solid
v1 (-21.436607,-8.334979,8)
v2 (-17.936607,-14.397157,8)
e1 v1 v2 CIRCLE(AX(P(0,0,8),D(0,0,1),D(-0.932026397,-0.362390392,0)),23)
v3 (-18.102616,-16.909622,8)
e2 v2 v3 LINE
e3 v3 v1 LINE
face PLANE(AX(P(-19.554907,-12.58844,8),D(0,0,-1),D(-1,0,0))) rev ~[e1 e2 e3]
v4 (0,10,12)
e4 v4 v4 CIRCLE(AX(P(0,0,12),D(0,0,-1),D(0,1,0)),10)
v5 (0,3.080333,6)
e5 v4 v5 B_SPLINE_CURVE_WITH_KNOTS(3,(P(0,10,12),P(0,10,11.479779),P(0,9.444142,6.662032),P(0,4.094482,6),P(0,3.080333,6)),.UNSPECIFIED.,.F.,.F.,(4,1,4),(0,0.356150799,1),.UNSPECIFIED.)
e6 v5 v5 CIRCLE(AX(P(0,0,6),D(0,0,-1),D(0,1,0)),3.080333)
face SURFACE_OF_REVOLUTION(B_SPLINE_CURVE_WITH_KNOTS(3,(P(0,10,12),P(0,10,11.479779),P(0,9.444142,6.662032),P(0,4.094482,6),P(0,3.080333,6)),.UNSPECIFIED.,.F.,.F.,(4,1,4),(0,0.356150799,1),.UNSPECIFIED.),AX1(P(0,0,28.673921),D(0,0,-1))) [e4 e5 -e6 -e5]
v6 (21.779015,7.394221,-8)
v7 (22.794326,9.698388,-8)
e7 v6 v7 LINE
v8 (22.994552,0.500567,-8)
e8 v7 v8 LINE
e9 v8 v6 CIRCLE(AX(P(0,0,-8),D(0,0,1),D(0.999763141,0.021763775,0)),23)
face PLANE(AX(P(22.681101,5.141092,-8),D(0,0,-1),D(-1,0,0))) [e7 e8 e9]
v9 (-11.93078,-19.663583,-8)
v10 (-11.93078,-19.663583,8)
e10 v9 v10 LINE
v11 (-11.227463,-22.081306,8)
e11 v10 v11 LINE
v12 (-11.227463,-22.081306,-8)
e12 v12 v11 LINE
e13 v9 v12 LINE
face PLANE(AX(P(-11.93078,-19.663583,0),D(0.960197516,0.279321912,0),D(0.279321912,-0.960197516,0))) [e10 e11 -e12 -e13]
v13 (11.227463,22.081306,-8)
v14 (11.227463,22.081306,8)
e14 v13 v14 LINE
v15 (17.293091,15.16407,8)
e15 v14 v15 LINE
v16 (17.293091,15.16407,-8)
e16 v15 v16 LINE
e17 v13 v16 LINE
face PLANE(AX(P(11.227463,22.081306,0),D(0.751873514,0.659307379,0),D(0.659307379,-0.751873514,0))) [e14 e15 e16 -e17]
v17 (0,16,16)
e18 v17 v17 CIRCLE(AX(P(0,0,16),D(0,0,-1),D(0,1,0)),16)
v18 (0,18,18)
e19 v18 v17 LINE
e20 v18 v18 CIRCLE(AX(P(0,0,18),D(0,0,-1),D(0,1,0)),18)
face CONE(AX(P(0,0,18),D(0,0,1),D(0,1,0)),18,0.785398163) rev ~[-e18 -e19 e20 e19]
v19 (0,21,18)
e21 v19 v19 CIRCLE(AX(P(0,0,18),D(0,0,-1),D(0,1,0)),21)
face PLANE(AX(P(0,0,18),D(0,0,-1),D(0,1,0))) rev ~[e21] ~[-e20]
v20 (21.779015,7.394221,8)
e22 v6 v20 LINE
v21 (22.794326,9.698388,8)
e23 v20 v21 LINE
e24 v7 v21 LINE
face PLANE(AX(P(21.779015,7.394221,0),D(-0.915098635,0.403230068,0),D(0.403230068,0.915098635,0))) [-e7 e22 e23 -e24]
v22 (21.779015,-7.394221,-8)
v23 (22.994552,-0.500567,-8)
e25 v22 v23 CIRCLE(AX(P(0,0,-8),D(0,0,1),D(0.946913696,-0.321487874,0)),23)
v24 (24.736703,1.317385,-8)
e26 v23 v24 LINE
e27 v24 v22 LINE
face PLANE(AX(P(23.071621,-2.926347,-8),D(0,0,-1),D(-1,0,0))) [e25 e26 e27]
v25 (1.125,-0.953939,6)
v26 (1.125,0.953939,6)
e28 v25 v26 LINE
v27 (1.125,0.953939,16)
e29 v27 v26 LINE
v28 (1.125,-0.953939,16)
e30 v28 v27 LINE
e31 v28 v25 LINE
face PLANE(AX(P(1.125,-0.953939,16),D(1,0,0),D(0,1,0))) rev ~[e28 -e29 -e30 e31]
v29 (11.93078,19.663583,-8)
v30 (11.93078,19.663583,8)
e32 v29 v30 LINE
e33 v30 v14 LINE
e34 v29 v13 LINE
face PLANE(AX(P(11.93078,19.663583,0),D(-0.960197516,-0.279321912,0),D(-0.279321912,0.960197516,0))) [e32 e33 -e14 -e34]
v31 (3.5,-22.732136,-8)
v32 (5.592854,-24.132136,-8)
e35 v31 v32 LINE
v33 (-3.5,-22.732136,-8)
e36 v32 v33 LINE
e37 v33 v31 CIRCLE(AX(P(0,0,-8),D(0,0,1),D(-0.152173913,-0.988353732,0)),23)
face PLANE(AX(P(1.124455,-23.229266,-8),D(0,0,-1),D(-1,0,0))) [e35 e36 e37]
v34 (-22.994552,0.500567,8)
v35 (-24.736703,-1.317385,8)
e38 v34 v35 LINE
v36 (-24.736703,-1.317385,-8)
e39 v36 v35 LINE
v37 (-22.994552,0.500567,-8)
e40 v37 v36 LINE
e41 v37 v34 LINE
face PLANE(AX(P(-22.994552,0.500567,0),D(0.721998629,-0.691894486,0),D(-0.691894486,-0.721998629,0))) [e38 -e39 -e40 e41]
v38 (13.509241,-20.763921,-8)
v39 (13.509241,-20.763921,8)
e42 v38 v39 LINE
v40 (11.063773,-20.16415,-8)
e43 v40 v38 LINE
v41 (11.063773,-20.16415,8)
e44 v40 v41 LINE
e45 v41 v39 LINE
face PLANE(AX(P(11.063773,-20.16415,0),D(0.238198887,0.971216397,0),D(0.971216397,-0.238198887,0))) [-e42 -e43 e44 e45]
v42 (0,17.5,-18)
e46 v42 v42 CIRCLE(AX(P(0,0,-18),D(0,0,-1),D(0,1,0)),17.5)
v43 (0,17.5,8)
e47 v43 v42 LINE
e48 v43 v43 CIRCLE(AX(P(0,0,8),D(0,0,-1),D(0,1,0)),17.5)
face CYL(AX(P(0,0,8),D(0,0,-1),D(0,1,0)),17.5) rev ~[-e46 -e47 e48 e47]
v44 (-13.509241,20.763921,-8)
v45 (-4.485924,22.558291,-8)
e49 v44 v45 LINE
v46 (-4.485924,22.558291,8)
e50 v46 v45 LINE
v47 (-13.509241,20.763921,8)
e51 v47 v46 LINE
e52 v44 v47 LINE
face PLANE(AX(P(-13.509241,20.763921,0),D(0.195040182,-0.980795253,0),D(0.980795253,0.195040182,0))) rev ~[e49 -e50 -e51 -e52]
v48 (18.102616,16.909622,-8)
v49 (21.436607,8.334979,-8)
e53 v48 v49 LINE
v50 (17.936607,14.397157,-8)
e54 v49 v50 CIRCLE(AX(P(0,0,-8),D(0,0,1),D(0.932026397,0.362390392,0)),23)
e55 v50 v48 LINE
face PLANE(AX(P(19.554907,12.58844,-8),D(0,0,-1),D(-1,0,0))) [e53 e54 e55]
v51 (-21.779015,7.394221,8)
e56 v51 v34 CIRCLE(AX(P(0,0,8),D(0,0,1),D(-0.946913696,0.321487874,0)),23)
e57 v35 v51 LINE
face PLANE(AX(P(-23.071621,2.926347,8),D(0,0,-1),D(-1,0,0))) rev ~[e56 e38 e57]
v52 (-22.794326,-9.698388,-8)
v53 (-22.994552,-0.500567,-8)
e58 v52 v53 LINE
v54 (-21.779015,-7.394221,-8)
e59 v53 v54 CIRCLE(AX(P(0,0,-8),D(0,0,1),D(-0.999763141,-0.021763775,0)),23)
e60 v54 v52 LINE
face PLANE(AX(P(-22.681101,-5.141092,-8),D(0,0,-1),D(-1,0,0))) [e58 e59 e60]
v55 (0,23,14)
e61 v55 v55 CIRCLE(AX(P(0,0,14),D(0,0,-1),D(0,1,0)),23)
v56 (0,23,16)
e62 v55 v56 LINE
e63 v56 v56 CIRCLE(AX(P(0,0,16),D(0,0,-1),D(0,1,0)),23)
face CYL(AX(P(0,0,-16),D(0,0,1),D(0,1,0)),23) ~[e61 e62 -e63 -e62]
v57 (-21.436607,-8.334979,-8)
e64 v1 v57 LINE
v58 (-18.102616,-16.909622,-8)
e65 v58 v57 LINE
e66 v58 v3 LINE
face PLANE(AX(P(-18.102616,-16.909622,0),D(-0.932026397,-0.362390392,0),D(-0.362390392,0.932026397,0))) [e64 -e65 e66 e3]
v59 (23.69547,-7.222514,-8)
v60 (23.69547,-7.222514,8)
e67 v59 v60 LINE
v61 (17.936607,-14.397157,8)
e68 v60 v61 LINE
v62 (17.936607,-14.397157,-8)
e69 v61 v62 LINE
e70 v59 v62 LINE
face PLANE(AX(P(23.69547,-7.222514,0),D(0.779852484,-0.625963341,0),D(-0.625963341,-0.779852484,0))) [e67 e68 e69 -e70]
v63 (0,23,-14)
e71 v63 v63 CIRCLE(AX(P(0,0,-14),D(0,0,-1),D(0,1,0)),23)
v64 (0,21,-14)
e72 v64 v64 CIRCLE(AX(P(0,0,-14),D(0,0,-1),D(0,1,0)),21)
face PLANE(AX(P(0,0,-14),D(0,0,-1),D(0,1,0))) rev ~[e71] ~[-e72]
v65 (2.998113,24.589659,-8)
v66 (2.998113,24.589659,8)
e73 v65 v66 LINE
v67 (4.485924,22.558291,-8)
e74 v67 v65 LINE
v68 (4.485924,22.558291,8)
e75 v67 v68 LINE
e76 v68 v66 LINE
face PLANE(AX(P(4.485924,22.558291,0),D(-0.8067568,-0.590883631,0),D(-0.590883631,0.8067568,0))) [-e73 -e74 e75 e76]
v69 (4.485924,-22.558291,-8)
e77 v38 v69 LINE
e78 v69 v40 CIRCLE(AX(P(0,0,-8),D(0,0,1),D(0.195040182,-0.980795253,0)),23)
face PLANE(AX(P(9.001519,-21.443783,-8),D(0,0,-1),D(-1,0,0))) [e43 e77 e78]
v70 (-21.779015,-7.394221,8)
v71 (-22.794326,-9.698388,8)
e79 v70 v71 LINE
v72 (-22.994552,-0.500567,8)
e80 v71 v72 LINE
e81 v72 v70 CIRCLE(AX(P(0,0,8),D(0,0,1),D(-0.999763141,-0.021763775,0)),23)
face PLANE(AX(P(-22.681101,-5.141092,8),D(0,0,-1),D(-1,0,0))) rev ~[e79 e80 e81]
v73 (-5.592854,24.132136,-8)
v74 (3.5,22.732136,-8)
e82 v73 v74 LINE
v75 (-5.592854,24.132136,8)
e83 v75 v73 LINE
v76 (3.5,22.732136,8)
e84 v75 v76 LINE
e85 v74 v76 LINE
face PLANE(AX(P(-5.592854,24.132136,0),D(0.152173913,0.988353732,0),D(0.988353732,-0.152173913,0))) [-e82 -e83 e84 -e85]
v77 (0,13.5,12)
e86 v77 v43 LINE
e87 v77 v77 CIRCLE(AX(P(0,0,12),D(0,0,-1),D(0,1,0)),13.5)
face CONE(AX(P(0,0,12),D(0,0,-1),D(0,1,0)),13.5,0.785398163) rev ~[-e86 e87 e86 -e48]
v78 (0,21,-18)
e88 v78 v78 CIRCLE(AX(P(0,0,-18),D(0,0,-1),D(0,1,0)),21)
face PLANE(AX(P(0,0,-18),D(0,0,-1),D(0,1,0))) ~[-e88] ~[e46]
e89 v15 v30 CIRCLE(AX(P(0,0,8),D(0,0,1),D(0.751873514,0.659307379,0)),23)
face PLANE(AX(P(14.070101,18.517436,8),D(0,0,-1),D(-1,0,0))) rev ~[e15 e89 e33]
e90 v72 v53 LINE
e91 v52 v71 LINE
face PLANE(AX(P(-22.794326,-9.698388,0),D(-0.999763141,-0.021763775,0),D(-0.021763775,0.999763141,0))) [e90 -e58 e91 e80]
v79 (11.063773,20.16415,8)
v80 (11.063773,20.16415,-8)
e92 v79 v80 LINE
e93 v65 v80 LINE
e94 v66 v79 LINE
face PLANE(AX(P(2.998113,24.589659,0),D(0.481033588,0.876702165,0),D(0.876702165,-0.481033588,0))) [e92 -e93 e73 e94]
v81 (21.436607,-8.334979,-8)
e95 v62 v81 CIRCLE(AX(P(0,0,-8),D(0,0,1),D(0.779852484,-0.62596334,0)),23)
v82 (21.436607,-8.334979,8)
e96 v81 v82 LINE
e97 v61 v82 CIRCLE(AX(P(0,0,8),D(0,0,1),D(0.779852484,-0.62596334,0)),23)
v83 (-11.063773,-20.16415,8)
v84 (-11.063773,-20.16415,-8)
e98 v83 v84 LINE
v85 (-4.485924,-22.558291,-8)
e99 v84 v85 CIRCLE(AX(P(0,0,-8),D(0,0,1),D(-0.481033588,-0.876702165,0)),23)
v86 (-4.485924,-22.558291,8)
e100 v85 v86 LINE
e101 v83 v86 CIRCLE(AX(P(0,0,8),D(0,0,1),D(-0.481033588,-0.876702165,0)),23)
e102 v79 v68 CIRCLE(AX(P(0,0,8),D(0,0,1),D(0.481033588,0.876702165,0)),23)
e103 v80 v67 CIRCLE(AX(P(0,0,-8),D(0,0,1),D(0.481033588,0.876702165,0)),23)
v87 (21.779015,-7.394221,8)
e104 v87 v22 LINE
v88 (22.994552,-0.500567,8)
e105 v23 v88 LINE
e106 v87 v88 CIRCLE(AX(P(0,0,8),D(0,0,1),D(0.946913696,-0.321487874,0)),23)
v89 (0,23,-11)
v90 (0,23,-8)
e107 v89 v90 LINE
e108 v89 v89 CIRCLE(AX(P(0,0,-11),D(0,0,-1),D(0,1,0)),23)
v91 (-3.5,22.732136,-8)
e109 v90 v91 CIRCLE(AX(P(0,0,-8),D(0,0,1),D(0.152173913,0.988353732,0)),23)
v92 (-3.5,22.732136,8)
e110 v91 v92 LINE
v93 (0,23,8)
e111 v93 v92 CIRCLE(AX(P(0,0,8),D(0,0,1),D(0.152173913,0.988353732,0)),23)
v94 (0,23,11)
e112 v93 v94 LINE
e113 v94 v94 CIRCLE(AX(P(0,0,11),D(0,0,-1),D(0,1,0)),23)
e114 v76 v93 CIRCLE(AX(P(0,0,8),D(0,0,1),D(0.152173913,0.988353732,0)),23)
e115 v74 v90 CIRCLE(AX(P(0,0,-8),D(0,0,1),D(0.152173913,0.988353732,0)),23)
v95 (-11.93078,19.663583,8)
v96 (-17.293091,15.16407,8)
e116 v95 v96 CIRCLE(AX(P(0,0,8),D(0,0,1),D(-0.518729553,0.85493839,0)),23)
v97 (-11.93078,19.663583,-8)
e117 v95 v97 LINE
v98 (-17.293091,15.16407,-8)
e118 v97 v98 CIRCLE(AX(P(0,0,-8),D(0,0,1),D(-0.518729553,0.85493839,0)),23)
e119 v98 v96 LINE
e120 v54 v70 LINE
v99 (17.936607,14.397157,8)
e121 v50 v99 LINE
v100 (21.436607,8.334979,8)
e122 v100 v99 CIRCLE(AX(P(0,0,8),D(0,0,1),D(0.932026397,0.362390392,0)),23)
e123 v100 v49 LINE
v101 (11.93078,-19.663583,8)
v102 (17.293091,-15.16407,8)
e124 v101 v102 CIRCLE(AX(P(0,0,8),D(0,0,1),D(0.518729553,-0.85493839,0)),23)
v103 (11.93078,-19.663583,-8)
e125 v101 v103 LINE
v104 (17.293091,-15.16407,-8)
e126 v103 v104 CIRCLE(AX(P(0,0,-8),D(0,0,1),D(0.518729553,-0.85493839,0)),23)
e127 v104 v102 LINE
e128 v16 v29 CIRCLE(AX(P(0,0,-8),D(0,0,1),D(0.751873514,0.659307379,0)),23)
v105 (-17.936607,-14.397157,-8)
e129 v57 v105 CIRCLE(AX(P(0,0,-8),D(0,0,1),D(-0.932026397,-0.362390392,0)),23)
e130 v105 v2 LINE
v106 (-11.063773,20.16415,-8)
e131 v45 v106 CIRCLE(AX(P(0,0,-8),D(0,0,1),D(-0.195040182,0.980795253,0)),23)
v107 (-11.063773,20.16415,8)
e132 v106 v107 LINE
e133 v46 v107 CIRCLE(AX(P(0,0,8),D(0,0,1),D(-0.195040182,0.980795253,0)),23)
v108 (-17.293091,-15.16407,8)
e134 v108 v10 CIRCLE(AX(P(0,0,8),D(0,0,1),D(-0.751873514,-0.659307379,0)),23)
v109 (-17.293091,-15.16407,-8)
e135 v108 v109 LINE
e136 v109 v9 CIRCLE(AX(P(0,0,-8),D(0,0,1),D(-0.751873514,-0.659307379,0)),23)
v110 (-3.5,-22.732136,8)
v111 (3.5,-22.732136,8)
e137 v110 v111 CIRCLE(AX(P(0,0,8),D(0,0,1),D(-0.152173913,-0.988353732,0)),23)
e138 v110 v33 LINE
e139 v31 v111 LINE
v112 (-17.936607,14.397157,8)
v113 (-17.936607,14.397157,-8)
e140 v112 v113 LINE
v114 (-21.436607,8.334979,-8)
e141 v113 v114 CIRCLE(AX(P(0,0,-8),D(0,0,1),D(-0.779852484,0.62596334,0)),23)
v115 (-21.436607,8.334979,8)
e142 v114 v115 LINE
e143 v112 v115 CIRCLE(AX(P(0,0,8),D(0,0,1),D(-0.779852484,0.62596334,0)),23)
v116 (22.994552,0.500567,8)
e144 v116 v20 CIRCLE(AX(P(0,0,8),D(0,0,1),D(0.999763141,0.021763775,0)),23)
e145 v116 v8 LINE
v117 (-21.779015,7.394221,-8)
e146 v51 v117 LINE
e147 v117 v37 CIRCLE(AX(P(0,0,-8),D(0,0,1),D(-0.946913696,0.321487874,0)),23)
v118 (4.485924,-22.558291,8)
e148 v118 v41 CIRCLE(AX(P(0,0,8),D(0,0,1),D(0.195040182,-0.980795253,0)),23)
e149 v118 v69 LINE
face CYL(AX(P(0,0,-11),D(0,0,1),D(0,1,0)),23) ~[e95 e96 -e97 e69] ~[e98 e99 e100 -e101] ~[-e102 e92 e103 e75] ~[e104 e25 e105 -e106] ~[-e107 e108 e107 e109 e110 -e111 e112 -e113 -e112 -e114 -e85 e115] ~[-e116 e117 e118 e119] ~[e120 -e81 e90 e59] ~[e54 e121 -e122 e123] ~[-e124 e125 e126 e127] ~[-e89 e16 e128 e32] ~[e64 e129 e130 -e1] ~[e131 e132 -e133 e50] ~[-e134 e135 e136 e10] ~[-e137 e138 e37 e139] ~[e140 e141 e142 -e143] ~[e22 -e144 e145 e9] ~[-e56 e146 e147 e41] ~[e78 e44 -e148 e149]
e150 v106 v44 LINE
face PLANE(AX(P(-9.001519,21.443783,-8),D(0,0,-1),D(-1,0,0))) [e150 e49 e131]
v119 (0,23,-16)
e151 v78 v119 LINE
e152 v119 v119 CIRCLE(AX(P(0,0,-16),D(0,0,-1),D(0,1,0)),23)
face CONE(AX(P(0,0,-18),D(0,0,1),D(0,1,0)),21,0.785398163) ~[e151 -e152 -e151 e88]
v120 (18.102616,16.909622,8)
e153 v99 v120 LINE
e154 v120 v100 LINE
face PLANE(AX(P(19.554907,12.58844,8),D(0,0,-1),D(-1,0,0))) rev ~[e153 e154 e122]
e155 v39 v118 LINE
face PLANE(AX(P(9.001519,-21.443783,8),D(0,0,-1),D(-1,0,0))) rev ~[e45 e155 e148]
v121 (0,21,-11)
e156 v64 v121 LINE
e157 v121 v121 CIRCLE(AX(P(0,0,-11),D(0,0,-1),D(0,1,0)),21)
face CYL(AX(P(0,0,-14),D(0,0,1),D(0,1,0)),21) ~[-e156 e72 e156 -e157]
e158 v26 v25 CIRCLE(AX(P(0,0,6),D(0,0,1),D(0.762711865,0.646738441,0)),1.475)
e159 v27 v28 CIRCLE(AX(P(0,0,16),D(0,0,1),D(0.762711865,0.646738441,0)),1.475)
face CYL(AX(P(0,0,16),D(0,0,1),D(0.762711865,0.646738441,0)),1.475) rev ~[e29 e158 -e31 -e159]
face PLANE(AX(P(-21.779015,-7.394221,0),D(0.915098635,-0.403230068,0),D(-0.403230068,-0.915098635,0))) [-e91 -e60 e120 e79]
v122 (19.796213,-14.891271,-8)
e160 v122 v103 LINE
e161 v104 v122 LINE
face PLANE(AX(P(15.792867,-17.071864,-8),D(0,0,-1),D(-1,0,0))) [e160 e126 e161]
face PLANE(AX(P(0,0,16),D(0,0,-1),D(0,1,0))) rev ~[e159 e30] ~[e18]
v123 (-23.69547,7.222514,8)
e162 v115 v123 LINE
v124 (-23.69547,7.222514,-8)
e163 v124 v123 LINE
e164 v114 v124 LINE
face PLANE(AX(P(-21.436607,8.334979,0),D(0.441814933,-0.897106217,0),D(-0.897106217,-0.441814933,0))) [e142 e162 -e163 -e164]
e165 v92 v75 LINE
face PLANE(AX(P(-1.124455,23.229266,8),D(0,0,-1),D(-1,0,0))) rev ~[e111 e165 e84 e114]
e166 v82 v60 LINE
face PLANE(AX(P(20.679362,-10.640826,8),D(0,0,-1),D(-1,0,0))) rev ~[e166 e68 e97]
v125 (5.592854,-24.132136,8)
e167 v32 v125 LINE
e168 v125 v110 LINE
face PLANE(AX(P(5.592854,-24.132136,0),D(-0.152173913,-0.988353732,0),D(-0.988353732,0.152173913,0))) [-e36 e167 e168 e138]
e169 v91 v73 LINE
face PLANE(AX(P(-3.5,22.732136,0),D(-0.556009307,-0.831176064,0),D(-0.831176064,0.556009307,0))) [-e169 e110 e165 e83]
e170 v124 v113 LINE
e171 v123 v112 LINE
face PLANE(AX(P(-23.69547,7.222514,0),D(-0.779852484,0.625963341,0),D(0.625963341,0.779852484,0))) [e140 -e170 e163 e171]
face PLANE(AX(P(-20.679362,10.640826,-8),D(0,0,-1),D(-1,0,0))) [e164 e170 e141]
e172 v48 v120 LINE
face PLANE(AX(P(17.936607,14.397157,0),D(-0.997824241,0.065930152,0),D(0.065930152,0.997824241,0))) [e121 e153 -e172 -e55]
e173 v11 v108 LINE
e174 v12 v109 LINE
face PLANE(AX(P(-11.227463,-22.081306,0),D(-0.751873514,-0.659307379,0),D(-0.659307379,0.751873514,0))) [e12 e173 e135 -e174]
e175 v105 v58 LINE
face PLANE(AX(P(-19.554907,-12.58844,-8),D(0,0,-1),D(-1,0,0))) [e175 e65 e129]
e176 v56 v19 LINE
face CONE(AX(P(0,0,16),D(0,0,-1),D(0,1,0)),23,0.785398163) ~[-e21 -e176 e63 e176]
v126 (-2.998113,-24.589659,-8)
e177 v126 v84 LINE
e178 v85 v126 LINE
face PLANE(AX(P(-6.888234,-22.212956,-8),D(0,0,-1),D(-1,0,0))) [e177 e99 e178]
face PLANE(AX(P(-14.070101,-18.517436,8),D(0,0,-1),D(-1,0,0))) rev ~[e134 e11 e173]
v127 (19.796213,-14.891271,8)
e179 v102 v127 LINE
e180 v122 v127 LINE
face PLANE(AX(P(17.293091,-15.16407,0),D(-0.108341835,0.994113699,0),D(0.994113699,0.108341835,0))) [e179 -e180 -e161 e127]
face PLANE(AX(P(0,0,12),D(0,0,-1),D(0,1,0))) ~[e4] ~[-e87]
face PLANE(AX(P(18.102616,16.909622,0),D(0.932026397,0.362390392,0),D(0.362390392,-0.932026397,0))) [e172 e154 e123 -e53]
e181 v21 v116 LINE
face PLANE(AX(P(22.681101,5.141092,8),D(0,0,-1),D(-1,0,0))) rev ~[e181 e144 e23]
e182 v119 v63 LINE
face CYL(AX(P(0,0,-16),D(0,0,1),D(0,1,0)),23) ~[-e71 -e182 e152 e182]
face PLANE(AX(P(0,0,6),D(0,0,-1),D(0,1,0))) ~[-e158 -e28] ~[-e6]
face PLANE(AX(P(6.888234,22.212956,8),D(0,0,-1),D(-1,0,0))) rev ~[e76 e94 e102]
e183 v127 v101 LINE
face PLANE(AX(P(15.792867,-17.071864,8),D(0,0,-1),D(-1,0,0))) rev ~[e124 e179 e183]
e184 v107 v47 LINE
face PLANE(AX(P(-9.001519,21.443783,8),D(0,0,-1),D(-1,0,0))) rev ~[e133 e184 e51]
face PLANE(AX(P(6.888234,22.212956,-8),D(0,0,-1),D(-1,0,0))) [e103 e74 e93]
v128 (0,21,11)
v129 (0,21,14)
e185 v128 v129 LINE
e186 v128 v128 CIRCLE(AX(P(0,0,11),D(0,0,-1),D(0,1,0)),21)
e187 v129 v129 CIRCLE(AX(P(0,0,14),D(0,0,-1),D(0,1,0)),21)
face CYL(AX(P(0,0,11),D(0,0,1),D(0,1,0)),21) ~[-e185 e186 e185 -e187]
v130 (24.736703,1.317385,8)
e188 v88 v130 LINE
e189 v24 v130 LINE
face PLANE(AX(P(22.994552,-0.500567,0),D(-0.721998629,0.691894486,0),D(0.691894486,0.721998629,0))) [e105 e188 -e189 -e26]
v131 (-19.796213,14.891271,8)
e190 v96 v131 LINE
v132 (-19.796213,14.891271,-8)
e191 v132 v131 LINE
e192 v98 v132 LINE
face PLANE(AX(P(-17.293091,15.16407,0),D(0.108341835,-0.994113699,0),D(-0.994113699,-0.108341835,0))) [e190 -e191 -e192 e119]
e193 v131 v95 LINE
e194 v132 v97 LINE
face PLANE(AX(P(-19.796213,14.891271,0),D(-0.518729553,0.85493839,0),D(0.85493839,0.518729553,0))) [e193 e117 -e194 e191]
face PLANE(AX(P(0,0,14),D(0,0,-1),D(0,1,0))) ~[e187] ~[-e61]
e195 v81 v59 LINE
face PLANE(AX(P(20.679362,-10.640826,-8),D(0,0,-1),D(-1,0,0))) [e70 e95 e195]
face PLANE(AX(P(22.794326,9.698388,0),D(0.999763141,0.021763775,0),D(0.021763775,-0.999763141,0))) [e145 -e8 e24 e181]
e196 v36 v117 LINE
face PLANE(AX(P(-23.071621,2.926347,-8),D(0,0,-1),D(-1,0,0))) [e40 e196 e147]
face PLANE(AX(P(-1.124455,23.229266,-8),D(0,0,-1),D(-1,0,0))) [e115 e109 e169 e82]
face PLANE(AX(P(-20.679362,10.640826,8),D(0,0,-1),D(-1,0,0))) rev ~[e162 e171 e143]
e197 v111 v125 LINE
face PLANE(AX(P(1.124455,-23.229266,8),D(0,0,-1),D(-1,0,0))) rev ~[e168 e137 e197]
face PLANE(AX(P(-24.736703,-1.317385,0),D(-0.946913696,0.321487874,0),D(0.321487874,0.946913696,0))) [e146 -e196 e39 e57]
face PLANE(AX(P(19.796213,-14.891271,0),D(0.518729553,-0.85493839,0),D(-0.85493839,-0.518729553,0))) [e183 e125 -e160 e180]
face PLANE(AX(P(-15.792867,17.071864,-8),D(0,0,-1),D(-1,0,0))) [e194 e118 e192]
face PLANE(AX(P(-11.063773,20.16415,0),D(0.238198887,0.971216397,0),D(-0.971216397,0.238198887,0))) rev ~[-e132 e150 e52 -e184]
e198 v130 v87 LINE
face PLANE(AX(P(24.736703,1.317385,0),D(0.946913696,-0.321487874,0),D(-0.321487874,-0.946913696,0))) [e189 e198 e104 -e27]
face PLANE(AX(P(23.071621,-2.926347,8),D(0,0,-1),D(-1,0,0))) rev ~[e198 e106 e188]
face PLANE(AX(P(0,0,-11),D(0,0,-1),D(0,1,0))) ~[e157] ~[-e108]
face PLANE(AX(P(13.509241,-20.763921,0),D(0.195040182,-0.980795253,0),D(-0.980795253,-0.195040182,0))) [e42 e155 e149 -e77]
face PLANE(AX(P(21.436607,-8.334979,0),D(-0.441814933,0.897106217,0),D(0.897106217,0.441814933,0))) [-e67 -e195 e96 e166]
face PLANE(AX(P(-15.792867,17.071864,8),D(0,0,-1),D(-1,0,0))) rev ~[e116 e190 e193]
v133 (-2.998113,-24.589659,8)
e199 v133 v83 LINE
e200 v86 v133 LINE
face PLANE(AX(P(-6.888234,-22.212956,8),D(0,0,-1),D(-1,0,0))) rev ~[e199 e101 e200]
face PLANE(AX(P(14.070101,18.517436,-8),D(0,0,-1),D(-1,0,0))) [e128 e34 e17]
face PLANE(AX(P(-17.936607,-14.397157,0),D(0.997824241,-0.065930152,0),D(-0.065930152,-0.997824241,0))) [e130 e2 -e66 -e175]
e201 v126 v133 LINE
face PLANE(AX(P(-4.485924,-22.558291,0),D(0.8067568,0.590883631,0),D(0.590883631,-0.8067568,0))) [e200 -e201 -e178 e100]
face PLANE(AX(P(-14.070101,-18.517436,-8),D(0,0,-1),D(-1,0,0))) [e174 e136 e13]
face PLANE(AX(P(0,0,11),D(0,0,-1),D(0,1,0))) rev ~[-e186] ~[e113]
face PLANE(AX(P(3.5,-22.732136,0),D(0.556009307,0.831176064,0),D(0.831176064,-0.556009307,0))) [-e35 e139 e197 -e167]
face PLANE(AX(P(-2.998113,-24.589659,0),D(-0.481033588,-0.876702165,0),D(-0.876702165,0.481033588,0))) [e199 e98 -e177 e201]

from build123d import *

# Parameters (mm, degrees)
CUT_EXTRUDE_1_DEPTH = 48.053161424
EXTRUDE_1_DEPTH     = 8


with BuildPart() as part:
    # Эскиз1 → Повернуть1 (revolve)
    with BuildSketch(Plane(origin=(0, 0, 0), x_dir=(0, 0, -1), z_dir=(1, 0, 0))):
        with BuildLine():
            Line((16, 23), (0, 23))
            Line((0, 23), (-16, 23))
            Line((-16, 23), (-18, 21))
            Line((-18, 21), (-18, 18))
            Line((-18, 18), (-16, 16))
            Line((-16, 16), (-16, 0))
            Line((-16, 0), (-14.334262465, 0))
            Line((-14.334262465, 0), (-6, 0))
            Line((-6, 0), (-6, 3.080332822))
            add(Edge.make_bspline(
                [(-12, 10), (-11.479779, 10), (-6.662031501, 9.444141655), (-6, 4.094482088), (-6, 3.080332822)],
                knots=[0, 0, 0, 0, 0.356150799, 1, 1, 1, 1], degree=3))
            Line((-12, 10), (-12, 13.5))
            Line((-12, 13.5), (-8, 17.5))
            Line((-8, 17.5), (18, 17.5))
            Line((18, 17.5), (18, 21))
            Line((18, 21), (16, 23))
        make_face()
    revolve(axis=Axis((0, 0, 28.673920663), (0, 0, -1)))

    # Эскиз2 → Вырез-Вытянуть1 (cut, through all)
    with BuildSketch(Plane.XY.offset(16)):
        with BuildLine():
            Line((1.125, -0.953939201), (1.125, 0.953939201))
            ThreePointArc((1.125, 0.953939201), (-1.475, 0), (1.125, -0.953939201))
        make_face()
    extrude(amount=-CUT_EXTRUDE_1_DEPTH, mode=Mode.SUBTRACT)

    # Эскиз3 → Вырез-Повернуть1 (revolve, cut)
    with BuildSketch(Plane(origin=(0, 0, 0), x_dir=(0, 0, -1), z_dir=(1, 0, 0))):
        Polygon((18, 21), (16, 23), (14, 23), (14, 21), (11, 21), (11, 23), (-11, 23), (-11, 21), (-14, 21), (-14, 23), (-16, 23), (-18, 21), (-18, 24.334722486), (18, 24.334722486), align=None)
    revolve(axis=Axis((0, 0, 27.637589676), (0, 0, -1)), mode=Mode.SUBTRACT)

    # Эскиз4 → Бобышка-Вытянуть1 (add, symmetric)
    with BuildSketch(Plane.XY):
        with BuildLine():
            Line((-3.5, 22.732135843), (-5.592854337, 24.132135843))
            Line((-5.592854337, 24.132135843), (3.5, 22.732135843))
            ThreePointArc((3.5, 22.732135843), (0, 23), (-3.5, 22.732135843))
        make_face()
        with BuildLine():
            Line((2.99811261, 24.589658818), (11.063772532, 20.164149805))
            ThreePointArc((11.063772532, 20.164149805), (7.866463296, 21.612930278), (4.485924186, 22.558290808))
            Line((4.485924186, 22.558290808), (2.99811261, 24.589658818))
        make_face()
        with BuildLine():
            Line((11.227462929, 22.081306034), (17.293090813, 15.164069709))
            ThreePointArc((17.293090813, 15.164069709), (14.784115023, 17.619022192), (11.930779711, 19.663582977))
            Line((11.930779711, 19.663582977), (11.227462929, 22.081306034))
        make_face()
        with BuildLine():
            Line((18.102615519, 16.909621857), (21.436607123, 8.334979008))
            ThreePointArc((21.436607123, 8.334979008), (19.918584287, 11.5), (17.936607123, 14.397156835))
            Line((17.936607123, 14.397156835), (18.102615519, 16.909621857))
        make_face()
        with BuildLine():
            Line((22.794325512, 9.698387725), (22.994552243, 0.500566828))
            ThreePointArc((22.994552243, 0.500566828), (22.650578319, 3.993908086), (21.779014999, 7.394221099))
            Line((21.779014999, 7.394221099), (22.794325512, 9.698387725))
        make_face()
        with BuildLine():
            Line((24.736703439, 1.3173849), (21.779014999, -7.394221099))
            ThreePointArc((21.779014999, -7.394221099), (22.650578319, -3.993908086), (22.994552243, -0.500566828))
            Line((22.994552243, -0.500566828), (24.736703439, 1.3173849))
        make_face()
        with BuildLine():
            Line((23.695469857, -7.222513986), (17.936607123, -14.397156835))
            ThreePointArc((17.936607123, -14.397156835), (19.918584287, -11.5), (21.436607123, -8.334979008))
            Line((21.436607123, -8.334979008), (23.695469857, -7.222513986))
        make_face()
        with BuildLine():
            Line((19.796212902, -14.891271093), (11.930779711, -19.663582977))
            ThreePointArc((11.930779711, -19.663582977), (14.784115023, -17.619022192), (17.293090813, -15.164069709))
            Line((17.293090813, -15.164069709), (19.796212902, -14.891271093))
        make_face()
        with BuildLine():
            Line((13.50924051, -20.763921134), (4.485924186, -22.558290808))
            ThreePointArc((4.485924186, -22.558290808), (7.866463296, -21.612930278), (11.063772532, -20.164149805))
            Line((11.063772532, -20.164149805), (13.50924051, -20.763921134))
        make_face()
        with BuildLine():
            Line((5.592854337, -24.132135843), (-3.5, -22.732135843))
            ThreePointArc((-3.5, -22.732135843), (0, -23), (3.5, -22.732135843))
            Line((3.5, -22.732135843), (5.592854337, -24.132135843))
        make_face()
        with BuildLine():
            Line((-2.99811261, -24.589658818), (-11.063772532, -20.164149805))
            ThreePointArc((-11.063772532, -20.164149805), (-7.866463296, -21.612930278), (-4.485924186, -22.558290808))
            Line((-4.485924186, -22.558290808), (-2.99811261, -24.589658818))
        make_face()
        with BuildLine():
            Line((-11.227462929, -22.081306034), (-17.293090813, -15.164069709))
            ThreePointArc((-17.293090813, -15.164069709), (-14.784115023, -17.619022192), (-11.930779711, -19.663582977))
            Line((-11.930779711, -19.663582977), (-11.227462929, -22.081306034))
        make_face()
        with BuildLine():
            Line((-18.102615519, -16.909621857), (-21.436607123, -8.334979008))
            ThreePointArc((-21.436607123, -8.334979008), (-19.918584287, -11.5), (-17.936607123, -14.397156835))
            Line((-17.936607123, -14.397156835), (-18.102615519, -16.909621857))
        make_face()
        with BuildLine():
            Line((-22.794325512, -9.698387725), (-22.994552243, -0.500566828))
            ThreePointArc((-22.994552243, -0.500566828), (-22.650578319, -3.993908086), (-21.779014999, -7.394221099))
            Line((-21.779014999, -7.394221099), (-22.794325512, -9.698387725))
        make_face()
        with BuildLine():
            Line((-24.736703439, -1.3173849), (-21.779014999, 7.394221099))
            ThreePointArc((-21.779014999, 7.394221099), (-22.650578319, 3.993908086), (-22.994552243, 0.500566828))
            Line((-22.994552243, 0.500566828), (-24.736703439, -1.3173849))
        make_face()
        with BuildLine():
            Line((-23.695469857, 7.222513986), (-17.936607123, 14.397156835))
            ThreePointArc((-17.936607123, 14.397156835), (-19.918584287, 11.5), (-21.436607123, 8.334979008))
            Line((-21.436607123, 8.334979008), (-23.695469857, 7.222513986))
        make_face()
        with BuildLine():
            Line((-19.796212902, 14.891271093), (-11.930779711, 19.663582977))
            ThreePointArc((-11.930779711, 19.663582977), (-14.784115023, 17.619022192), (-17.293090813, 15.164069709))
            Line((-17.293090813, 15.164069709), (-19.796212902, 14.891271093))
        make_face()
        with BuildLine():
            Line((-13.50924051, 20.763921134), (-4.485924186, 22.558290808))
            ThreePointArc((-4.485924186, 22.558290808), (-7.866463296, 21.612930278), (-11.063772532, 20.164149805))
            Line((-11.063772532, 20.164149805), (-13.50924051, 20.763921134))
        make_face()
    extrude(amount=EXTRUDE_1_DEPTH, both=True)


solid = part.part
